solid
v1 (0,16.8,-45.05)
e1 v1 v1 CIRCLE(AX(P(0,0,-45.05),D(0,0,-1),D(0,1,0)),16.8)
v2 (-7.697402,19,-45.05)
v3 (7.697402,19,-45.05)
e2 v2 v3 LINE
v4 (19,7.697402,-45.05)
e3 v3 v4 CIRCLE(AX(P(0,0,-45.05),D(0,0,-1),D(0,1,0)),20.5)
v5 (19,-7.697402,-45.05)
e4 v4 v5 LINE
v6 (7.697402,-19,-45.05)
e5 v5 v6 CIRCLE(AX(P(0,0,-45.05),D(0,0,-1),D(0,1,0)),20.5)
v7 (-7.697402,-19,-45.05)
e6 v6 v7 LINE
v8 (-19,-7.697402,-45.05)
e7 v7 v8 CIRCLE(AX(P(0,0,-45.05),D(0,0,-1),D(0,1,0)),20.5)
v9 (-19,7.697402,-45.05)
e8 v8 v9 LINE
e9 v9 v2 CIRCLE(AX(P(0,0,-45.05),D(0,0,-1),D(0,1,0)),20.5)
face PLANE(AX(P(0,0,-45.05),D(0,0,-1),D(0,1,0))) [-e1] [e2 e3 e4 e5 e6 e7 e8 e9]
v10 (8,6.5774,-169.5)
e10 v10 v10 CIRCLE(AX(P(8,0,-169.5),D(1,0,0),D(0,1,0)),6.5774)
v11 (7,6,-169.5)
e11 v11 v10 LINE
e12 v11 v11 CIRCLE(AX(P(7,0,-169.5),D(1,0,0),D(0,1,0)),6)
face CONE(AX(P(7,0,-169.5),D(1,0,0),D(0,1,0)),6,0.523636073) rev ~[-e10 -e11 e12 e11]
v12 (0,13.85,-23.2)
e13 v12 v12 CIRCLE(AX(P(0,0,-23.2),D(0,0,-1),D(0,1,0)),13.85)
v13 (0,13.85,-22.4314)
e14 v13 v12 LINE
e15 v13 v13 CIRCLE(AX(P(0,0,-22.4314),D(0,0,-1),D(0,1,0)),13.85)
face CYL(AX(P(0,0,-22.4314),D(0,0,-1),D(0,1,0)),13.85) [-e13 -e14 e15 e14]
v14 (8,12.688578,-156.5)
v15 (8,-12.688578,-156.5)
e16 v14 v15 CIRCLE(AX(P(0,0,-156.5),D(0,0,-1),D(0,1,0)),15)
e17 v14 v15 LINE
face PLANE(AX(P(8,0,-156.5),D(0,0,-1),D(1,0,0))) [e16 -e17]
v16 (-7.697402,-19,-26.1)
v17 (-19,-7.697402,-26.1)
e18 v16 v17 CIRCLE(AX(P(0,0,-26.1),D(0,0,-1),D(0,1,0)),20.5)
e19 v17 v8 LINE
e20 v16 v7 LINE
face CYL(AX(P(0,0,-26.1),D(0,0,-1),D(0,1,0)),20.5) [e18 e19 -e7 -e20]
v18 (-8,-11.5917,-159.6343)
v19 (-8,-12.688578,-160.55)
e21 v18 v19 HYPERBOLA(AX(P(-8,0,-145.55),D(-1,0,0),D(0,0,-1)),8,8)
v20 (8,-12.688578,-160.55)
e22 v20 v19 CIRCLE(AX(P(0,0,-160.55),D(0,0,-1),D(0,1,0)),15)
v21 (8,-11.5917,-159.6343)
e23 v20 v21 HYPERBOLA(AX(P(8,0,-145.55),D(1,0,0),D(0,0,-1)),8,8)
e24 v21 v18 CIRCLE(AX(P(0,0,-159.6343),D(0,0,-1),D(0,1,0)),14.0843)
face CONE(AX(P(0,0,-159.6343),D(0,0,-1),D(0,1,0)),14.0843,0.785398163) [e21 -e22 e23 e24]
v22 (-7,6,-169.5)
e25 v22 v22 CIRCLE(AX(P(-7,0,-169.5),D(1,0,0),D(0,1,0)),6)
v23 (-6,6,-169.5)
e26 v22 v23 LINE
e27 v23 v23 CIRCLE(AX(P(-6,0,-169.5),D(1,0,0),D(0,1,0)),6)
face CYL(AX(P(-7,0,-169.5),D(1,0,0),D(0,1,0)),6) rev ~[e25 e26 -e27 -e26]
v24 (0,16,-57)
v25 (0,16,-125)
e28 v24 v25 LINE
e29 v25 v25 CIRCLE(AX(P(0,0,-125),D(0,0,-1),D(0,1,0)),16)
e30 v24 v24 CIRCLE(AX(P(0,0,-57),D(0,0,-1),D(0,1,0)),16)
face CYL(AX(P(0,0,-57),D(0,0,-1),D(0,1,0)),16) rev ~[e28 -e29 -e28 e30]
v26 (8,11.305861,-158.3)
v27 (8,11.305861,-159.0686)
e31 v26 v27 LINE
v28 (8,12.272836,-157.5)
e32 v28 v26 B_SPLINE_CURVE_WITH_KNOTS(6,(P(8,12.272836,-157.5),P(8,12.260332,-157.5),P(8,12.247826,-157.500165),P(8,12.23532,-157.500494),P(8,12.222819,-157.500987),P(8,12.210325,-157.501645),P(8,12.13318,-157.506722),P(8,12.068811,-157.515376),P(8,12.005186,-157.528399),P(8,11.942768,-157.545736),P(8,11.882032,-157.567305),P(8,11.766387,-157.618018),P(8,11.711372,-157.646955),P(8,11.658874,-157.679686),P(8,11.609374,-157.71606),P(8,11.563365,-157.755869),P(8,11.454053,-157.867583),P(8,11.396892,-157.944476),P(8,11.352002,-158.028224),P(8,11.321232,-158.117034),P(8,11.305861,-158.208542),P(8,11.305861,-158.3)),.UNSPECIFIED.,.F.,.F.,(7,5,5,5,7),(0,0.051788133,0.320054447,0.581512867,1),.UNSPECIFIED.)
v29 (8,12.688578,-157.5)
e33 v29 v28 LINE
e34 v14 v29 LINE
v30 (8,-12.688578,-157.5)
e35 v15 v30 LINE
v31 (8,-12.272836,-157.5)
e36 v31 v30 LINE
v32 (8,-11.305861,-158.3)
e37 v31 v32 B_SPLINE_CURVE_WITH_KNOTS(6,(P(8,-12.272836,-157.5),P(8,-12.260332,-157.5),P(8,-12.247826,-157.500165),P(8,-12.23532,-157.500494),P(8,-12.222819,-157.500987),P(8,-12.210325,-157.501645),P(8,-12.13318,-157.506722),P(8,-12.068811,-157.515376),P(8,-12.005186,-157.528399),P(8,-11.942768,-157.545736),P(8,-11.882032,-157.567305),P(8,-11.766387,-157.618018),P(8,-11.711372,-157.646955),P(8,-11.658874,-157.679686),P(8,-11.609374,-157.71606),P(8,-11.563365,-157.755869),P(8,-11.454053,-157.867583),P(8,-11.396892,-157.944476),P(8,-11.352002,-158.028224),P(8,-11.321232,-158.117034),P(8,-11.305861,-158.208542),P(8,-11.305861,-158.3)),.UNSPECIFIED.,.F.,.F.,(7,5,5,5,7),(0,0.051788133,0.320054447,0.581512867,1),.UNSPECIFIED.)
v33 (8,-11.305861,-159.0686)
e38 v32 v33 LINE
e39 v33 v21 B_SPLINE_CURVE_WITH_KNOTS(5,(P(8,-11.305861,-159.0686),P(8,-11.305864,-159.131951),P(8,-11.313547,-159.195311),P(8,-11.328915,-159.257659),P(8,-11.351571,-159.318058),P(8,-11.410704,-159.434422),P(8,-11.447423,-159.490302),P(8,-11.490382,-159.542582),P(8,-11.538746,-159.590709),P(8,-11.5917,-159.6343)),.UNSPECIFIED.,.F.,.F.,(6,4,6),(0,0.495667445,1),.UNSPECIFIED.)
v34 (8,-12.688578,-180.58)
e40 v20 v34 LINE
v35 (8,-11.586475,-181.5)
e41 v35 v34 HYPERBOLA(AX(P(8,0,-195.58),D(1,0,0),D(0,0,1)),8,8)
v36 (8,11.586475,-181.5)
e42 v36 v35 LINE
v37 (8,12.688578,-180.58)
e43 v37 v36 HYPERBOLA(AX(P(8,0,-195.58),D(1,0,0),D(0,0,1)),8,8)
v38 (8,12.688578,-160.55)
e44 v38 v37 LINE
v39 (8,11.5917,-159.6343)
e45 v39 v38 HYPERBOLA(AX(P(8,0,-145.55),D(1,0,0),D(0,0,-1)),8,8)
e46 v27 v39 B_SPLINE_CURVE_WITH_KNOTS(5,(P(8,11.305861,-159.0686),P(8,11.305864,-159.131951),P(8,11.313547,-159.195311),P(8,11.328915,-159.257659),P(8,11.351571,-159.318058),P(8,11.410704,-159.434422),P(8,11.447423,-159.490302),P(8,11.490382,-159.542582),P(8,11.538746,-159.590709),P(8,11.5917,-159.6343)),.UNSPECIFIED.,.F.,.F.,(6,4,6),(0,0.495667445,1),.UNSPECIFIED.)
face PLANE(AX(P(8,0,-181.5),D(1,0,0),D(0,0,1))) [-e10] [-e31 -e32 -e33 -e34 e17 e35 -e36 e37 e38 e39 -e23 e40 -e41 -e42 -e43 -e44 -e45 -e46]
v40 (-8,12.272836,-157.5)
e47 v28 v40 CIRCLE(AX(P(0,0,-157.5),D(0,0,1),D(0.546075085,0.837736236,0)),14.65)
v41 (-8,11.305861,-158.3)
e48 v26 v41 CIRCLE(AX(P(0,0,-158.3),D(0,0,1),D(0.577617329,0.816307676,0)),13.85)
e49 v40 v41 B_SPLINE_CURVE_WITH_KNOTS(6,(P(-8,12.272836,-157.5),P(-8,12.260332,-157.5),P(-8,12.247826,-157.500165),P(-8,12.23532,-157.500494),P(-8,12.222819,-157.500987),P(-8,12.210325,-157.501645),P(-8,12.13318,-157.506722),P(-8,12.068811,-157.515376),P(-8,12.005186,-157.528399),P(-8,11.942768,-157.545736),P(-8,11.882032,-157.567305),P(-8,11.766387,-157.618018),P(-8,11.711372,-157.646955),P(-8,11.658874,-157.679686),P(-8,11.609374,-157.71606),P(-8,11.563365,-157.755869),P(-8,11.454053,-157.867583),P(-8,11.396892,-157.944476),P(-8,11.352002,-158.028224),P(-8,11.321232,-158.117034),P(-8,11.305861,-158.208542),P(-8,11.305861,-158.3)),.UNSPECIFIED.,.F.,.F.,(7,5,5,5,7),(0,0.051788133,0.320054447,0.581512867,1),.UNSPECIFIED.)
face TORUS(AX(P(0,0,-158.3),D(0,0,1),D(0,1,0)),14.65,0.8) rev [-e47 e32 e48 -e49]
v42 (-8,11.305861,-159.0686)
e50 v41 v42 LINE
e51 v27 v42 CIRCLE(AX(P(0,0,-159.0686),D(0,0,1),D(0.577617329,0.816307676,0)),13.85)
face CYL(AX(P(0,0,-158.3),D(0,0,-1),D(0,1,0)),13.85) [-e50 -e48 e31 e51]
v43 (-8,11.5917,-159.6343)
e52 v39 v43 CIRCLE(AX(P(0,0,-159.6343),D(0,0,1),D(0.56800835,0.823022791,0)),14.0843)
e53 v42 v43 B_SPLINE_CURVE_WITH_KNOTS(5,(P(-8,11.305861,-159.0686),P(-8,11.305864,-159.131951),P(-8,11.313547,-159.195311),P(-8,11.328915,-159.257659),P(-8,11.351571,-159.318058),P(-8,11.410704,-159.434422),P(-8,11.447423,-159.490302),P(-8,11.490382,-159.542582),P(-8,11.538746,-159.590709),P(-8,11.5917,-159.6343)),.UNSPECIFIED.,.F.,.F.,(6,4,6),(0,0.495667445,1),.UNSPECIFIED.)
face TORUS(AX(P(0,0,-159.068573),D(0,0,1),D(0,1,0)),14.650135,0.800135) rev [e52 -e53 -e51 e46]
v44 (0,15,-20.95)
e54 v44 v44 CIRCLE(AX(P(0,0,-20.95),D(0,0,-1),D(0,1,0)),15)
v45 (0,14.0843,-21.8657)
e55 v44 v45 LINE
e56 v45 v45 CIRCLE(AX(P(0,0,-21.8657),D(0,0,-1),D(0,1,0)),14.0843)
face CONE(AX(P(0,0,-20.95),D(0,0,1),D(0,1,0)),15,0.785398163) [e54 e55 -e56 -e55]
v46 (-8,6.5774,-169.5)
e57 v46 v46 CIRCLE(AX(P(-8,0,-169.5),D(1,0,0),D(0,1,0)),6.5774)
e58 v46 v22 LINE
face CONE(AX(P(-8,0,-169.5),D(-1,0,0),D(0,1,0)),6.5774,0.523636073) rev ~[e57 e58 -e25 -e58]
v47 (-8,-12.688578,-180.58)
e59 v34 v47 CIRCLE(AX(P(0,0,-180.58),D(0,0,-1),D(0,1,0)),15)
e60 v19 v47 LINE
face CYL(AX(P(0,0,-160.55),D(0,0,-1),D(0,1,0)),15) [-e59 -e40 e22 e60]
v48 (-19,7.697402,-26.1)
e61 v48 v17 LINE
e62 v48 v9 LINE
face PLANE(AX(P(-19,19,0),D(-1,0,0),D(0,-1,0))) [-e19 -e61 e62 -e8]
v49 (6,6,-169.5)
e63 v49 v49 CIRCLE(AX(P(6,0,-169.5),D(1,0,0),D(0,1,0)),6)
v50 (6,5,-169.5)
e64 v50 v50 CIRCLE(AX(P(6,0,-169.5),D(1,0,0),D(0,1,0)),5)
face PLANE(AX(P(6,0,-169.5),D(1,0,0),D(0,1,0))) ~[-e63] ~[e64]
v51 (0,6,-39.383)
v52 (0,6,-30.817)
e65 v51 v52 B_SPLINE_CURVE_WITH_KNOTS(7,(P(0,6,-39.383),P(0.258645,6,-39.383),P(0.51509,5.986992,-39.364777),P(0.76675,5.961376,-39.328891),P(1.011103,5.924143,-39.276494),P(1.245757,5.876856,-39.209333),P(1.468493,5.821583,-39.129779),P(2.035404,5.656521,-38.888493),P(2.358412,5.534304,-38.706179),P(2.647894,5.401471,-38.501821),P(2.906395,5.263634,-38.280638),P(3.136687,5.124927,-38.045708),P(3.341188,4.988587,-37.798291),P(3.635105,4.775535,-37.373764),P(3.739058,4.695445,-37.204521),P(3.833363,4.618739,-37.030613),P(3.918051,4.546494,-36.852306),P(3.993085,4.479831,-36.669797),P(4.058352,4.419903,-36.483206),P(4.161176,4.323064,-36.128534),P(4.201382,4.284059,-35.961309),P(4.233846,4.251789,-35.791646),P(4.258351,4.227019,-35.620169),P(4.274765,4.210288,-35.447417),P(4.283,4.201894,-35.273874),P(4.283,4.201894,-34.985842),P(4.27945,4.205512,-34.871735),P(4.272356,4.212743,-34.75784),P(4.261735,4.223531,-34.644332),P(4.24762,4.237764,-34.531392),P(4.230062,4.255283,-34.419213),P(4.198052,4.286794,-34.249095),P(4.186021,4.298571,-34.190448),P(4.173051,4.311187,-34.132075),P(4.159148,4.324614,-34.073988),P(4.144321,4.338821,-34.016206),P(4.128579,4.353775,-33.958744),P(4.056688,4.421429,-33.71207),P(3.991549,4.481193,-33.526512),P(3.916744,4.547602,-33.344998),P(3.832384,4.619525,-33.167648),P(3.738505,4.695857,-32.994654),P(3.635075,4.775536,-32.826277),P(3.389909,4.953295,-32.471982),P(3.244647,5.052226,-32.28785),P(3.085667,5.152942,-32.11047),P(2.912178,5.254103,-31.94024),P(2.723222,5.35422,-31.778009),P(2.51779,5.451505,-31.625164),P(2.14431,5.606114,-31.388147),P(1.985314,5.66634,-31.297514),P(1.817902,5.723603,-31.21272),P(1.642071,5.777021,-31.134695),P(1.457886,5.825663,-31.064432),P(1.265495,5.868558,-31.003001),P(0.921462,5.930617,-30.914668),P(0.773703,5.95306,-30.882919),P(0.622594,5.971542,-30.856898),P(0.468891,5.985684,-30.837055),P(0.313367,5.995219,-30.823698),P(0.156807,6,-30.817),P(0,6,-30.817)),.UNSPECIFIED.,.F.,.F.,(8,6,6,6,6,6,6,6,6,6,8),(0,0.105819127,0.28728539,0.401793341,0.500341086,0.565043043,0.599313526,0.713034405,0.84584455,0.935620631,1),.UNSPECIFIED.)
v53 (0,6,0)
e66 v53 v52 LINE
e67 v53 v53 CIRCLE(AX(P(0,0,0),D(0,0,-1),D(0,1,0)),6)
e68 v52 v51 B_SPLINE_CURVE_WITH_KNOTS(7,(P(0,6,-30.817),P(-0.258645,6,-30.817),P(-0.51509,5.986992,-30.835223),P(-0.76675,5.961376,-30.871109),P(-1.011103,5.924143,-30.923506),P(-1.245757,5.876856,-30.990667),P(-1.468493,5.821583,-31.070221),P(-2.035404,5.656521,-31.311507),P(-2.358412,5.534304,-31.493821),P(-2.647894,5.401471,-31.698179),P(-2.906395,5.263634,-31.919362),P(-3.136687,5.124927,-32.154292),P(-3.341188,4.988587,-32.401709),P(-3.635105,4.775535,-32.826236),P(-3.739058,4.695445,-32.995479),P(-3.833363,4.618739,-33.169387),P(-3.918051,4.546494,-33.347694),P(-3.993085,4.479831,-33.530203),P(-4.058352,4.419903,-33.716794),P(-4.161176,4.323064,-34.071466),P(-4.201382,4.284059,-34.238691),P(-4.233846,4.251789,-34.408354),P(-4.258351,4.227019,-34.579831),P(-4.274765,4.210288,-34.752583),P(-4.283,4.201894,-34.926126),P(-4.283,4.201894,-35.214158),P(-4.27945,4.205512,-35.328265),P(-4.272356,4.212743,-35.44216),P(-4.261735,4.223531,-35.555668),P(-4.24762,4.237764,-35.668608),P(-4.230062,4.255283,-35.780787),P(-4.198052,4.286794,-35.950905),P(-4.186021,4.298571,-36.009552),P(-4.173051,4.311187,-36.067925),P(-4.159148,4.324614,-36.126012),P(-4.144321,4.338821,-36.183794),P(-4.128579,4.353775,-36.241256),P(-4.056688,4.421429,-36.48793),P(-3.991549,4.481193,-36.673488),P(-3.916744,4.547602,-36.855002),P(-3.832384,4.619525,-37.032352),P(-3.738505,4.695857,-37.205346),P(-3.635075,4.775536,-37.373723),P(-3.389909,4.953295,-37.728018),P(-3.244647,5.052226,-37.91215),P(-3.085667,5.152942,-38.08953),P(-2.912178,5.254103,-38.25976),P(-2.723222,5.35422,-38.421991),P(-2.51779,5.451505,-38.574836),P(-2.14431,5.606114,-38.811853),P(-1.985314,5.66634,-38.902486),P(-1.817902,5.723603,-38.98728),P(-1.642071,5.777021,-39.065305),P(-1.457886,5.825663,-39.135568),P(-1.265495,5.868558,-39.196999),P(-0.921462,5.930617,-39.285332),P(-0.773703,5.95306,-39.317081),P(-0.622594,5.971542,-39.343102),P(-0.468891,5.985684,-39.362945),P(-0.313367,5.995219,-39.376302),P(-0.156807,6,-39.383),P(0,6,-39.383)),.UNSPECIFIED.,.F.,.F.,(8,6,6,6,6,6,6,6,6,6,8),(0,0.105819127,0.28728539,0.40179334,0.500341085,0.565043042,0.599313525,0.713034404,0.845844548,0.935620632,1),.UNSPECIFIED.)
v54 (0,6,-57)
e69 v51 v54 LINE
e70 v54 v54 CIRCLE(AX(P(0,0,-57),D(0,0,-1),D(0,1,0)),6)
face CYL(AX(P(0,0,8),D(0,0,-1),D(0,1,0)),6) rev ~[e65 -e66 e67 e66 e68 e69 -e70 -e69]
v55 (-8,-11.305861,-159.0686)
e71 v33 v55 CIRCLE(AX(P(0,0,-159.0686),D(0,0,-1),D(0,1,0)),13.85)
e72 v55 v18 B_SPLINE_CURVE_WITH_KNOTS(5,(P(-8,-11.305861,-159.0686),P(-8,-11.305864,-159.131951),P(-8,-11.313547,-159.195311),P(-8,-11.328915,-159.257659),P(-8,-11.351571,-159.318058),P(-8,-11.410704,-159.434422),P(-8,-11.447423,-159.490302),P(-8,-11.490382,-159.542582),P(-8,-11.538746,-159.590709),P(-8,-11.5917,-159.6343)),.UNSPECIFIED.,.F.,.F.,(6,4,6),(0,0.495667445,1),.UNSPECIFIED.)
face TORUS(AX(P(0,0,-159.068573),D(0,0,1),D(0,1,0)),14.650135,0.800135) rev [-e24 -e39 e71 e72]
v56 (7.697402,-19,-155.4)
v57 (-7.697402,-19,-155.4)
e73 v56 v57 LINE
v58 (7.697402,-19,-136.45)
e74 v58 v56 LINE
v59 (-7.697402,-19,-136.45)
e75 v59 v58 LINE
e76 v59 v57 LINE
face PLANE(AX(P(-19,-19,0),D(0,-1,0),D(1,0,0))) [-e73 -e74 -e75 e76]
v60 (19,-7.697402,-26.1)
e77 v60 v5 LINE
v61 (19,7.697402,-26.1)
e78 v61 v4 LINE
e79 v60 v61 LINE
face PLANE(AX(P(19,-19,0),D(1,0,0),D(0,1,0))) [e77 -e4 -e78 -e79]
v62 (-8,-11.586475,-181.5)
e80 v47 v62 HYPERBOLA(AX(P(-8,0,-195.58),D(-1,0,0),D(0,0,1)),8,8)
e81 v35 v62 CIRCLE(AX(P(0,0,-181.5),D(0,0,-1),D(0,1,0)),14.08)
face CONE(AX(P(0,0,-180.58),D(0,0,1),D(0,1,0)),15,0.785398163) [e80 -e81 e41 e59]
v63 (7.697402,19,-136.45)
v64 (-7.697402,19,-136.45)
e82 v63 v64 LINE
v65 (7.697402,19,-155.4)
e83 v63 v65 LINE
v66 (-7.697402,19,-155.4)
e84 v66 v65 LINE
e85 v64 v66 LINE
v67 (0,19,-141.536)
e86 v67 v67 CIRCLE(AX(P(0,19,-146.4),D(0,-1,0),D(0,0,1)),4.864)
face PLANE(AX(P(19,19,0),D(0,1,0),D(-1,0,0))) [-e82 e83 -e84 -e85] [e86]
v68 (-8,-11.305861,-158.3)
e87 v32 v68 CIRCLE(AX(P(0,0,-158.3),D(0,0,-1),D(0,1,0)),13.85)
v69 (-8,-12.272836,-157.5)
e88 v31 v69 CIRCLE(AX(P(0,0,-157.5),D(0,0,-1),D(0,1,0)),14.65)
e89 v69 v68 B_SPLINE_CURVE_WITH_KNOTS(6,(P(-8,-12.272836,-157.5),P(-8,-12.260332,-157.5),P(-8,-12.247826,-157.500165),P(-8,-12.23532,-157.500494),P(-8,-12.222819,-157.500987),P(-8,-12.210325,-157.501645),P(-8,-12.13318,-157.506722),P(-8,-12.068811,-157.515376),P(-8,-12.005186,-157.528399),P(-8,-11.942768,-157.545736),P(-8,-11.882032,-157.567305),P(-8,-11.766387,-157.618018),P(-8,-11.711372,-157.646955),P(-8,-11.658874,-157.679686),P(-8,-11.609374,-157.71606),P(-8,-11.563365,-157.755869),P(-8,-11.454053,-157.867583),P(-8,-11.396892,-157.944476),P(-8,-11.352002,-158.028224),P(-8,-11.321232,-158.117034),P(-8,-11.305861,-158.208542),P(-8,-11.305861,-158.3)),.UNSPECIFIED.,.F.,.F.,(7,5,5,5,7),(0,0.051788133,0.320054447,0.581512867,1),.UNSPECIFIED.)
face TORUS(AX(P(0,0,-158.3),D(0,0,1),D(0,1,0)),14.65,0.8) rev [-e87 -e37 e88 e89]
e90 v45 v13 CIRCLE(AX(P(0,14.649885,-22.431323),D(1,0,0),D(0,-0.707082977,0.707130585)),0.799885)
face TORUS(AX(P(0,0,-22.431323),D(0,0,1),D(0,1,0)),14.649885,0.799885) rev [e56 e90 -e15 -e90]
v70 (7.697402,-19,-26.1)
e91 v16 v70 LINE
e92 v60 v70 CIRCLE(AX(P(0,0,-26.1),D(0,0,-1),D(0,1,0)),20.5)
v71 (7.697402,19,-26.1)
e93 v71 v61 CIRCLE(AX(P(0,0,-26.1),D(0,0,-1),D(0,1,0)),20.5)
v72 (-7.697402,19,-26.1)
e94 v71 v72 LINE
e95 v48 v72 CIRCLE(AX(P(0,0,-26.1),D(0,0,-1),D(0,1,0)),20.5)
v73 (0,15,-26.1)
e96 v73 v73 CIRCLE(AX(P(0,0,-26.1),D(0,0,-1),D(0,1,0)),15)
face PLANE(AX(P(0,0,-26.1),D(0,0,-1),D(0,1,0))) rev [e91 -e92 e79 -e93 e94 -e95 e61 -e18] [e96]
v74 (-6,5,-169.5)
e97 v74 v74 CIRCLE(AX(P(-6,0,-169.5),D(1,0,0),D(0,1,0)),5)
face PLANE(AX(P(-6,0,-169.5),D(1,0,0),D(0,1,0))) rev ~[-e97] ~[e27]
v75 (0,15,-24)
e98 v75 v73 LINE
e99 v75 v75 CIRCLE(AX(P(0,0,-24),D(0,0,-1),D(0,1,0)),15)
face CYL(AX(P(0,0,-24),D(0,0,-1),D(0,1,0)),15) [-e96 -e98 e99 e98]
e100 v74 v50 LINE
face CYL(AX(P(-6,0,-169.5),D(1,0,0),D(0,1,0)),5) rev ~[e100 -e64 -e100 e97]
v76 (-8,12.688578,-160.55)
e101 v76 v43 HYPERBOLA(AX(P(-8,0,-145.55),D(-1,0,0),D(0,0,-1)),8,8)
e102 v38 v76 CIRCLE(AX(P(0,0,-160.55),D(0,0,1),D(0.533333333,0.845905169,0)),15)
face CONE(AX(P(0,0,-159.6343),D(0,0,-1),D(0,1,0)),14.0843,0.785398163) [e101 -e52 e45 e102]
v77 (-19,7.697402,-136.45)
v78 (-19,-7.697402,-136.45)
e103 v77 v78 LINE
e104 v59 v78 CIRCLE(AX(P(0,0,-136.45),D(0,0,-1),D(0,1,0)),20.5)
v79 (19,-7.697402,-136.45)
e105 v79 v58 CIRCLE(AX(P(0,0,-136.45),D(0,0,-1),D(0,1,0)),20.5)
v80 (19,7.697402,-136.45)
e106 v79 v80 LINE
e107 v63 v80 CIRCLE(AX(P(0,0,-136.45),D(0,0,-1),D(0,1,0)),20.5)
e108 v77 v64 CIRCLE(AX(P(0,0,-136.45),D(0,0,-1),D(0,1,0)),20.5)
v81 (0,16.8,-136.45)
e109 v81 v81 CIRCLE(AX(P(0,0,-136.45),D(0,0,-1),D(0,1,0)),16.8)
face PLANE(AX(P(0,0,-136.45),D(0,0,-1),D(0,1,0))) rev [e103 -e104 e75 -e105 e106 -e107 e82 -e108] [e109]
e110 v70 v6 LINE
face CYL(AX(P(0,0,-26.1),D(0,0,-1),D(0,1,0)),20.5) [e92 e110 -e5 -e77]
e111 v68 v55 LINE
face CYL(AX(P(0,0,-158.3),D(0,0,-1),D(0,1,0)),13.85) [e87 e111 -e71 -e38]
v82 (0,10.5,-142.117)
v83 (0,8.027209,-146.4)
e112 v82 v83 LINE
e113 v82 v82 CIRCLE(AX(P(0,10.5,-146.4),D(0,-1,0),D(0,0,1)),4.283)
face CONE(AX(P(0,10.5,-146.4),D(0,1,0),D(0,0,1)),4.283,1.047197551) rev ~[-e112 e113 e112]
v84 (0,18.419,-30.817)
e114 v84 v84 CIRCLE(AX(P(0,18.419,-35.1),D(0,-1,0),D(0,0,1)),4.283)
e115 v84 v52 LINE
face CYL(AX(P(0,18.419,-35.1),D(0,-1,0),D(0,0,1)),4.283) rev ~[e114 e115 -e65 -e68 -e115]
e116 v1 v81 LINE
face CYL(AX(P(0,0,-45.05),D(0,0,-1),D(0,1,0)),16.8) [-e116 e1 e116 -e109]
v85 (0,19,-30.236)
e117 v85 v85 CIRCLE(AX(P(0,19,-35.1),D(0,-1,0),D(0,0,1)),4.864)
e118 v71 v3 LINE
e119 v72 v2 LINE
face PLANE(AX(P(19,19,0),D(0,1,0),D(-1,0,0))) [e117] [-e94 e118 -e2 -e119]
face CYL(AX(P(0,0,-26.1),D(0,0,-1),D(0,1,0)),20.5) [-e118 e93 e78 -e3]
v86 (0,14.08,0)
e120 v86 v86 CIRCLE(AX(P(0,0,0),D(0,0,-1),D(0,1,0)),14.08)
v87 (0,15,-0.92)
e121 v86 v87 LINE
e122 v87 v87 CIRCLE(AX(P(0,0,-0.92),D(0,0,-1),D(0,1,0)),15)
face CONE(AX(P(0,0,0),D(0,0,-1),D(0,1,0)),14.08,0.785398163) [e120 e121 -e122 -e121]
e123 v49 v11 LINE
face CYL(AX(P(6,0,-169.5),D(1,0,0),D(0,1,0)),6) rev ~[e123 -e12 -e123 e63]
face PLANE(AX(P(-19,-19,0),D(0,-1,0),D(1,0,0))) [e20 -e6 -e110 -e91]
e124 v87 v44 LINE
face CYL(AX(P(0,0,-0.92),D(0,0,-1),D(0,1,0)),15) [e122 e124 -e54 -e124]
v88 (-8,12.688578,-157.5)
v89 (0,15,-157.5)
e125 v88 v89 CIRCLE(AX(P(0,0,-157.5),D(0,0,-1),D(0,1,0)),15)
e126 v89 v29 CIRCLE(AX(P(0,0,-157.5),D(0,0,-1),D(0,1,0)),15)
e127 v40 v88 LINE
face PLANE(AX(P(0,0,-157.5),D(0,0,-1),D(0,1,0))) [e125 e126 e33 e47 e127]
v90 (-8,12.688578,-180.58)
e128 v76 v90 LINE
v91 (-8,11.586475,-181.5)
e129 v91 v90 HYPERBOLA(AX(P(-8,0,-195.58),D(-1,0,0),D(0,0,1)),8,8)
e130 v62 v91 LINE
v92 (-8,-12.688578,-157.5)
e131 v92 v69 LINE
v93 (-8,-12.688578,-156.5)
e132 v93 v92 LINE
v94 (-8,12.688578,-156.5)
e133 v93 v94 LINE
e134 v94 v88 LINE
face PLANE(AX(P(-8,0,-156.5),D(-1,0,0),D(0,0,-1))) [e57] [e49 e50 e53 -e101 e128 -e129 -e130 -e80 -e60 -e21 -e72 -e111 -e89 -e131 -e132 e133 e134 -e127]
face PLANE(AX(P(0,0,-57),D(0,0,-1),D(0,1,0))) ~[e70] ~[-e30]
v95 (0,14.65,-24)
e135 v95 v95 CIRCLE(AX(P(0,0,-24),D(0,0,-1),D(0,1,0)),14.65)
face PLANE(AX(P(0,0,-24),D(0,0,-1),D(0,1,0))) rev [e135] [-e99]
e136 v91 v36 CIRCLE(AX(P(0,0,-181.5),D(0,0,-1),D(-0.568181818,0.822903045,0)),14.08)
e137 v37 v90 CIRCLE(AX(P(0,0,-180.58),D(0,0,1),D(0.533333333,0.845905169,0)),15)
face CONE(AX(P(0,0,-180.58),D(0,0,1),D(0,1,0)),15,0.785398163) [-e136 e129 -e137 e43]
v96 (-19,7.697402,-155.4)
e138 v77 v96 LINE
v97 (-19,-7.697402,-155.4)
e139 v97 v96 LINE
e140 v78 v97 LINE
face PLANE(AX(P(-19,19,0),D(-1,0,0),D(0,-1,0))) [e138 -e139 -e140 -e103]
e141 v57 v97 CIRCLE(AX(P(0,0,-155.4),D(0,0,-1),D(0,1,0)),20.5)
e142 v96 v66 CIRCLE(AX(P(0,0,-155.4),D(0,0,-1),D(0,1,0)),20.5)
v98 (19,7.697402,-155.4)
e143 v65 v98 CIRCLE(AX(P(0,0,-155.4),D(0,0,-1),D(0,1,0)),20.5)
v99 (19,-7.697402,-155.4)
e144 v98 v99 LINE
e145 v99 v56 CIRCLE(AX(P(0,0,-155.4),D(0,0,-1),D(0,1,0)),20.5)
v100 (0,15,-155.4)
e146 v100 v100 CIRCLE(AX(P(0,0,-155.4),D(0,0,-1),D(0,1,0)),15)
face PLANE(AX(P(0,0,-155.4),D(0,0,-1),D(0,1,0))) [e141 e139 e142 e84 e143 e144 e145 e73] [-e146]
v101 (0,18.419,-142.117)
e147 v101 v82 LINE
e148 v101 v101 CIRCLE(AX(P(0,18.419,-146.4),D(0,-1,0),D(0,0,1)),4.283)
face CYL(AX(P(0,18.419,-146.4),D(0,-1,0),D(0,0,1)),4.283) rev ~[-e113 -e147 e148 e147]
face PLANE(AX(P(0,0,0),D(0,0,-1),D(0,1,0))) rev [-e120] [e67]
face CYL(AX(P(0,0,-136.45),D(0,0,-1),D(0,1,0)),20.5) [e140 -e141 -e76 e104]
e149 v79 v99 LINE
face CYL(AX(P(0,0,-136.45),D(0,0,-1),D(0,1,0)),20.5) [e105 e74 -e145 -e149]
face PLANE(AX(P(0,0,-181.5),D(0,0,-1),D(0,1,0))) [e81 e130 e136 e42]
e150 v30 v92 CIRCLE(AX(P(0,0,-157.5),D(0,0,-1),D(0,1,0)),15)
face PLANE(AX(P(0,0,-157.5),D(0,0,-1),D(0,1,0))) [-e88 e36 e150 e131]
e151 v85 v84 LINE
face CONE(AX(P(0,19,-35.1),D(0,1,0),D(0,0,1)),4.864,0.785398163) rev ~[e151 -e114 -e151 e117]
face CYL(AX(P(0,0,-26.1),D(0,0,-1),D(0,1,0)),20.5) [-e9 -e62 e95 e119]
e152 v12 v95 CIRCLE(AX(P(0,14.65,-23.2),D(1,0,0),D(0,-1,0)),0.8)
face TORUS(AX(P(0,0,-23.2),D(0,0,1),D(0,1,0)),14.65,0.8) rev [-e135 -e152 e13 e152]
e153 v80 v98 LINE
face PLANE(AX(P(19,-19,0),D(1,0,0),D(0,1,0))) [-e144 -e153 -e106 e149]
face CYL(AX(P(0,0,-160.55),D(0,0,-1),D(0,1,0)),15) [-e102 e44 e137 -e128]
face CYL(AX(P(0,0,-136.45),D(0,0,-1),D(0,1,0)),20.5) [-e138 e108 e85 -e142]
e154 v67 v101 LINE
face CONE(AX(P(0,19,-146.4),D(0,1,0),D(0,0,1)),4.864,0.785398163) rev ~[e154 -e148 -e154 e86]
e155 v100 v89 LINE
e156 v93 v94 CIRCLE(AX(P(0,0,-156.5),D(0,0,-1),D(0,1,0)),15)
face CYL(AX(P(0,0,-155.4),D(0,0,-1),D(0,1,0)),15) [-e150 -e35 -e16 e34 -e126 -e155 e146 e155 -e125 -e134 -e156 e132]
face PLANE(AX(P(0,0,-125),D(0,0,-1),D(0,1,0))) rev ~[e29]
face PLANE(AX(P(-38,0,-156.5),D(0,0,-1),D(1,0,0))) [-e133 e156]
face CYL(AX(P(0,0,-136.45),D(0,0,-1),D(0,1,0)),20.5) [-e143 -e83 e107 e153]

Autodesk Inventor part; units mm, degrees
sketch "Sketch_12" plane through (0, 0, 0) normal (1, 0, 0) x (0, 1, 0)
  line L0 (0, -181.5) -> (0, 0)
  line L1 (0, 0) -> (14.08, 0)
  line L2 (14.08, 0) -> (15, -0.92)
  line L3 (15, -0.92) -> (15, -20.95)
  line L4 (15, -20.95) -> (14.0843, -21.8657)
  arc A0 (14.0843, -21.8657) -> (13.85, -22.4314) centre (14.65, -22.4314) ccw
  line L5 (13.85, -22.4314) -> (13.85, -23.2)
  arc A1 (13.85, -23.2) -> (14.65, -24) centre (14.65, -23.2) ccw
  line L6 (14.65, -24) -> (15, -24)
  line L7 (15, -24) -> (15, -26.1)
  line L8 (15, -26.1) -> (20.5, -26.1)
  line L9 (20.5, -26.1) -> (20.5, -45.05)
  line L10 (20.5, -45.05) -> (16.8, -45.05)
  line L11 (16.8, -45.05) -> (16.8, -136.45)
  line L12 (16.8, -136.45) -> (20.5, -136.45)
  line L13 (20.5, -136.45) -> (20.5, -155.4)
  line L14 (20.5, -155.4) -> (15, -155.4)
  line L15 (15, -155.4) -> (15, -157.5)
  line L16 (15, -157.5) -> (14.65, -157.5)
  arc A2 (14.65, -157.5) -> (13.85, -158.3) centre (14.65, -158.3) ccw
  line L17 (13.85, -158.3) -> (13.85, -159.0686)
  arc A3 (13.85, -159.0686) -> (14.0843, -159.6343) centre (14.65, -159.0686) ccw
  line L18 (14.0843, -159.6343) -> (15, -160.55)
  line L19 (15, -160.55) -> (15, -180.58)
  line L20 (15, -180.58) -> (14.08, -181.5)
  line L21 (14.08, -181.5) -> (0, -181.5)
  line L22 (0, -181.5) -> (0, 0)
revolve "Revolution1" add sketch "Sketch_12" angle 360 about axis through (0, 0, -181.5) along (0, 0, -1)
thread "Thread1" size "M30x1.5" class "6g" standard "ISO Metric profile" full length
thread "Thread2" size "M30x1.5" class "6g" standard "ISO Metric profile" full length
sketch "Sketch_1" plane through (0, 0, 0) normal (0, 0, 1) x (1, 0, 0)
  line L0 (-38, 38) -> (-38, -38)
  line L1 (-38, -38) -> (38, -38)
  line L2 (38, -38) -> (38, 38)
  line L3 (38, 38) -> (-38, 38)
  line L4 (-19, 19) -> (-19, -19)
  line L5 (-19, -19) -> (19, -19)
  line L6 (19, -19) -> (19, 19)
  line L7 (19, 19) -> (-19, 19)
extrude "Extrusion1" cut sketch "Sketch_1" against normal blind 189.5
sketch "Sketch_124" plane through (0, 0, 0) normal (0, 1, 0) x (-1, 0, 0)
  line L0 (38, -156.5) -> (8, -156.5)
  line L1 (8, -156.5) -> (8, -181.5)
  line L2 (8, -181.5) -> (-8, -181.5)
  line L3 (-8, -181.5) -> (-8, -156.5)
  line L4 (-8, -156.5) -> (-38, -156.5)
  line L5 (-38, -156.5) -> (-38, -186.5)
  line L6 (-38, -186.5) -> (38, -186.5)
  line L7 (38, -186.5) -> (38, -156.5)
extrude "Extrusion2" cut sketch "Sketch_124" along normal mid plane 38
sketch "Sketch_3" plane through (0, 0, -169.5) normal (0, 0, 1) x (1, 0, 0)
  line L0 (8, 0) -> (-8, 0)
  line L1 (-8, 0) -> (-8, 6.5774)
  line L2 (-8, 6.5774) -> (-7, 6)
  line L3 (-7, 6) -> (-6, 6)
  line L4 (-6, 6) -> (-6, 5)
  line L5 (-6, 5) -> (6, 5)
  line L6 (6, 5) -> (6, 6)
  line L7 (6, 6) -> (7, 6)
  line L8 (7, 6) -> (8, 6.5774)
  line L9 (8, 6.5774) -> (8, 0)
  line L10 (8, 0) -> (-8, 0)
revolve "Revolution2" cut sketch "Sketch_3" angle 360 about axis through (8, 0, -169.5) along (1, 0, 0)
sketch "Sketch5" plane through (-7.6974, 19, -26.1) normal (0, 1, 0) x (1, 0, 0)
  point P0 (7.6974, 9)
hole "Hole1" at (0, 19, -35.1) direction (0, -1, 0) diameter 8.566 depth 19 countersink diameter 9.728 countersink angle 90 thread size "G9.728x0.907" designation "G 1/8" standard "ISO Pipe Threads"
sketch "Sketch6" plane through (-7.6974, 19, -136.45) normal (0, 1, 0) x (1, 0, 0)
  point P0 (7.6974, 9.95)
hole "Hole2" at (0, 19, -146.4) direction (0, -1, 0) diameter 8.566 depth 8.5 tip angle 120 countersink diameter 9.728 countersink angle 90 thread size "G9.728x0.907" designation "G 1/8" standard "ISO Pipe Threads"
sketch "Sketch_129" plane through (0, 0, 0) normal (1, 0, 0) x (0, 1, 0)
  line L0 (0, -125) -> (0, 8)
  line L1 (0, 8) -> (6, 8)
  line L2 (6, 8) -> (6, -57)
  line L3 (6, -57) -> (16, -57)
  line L4 (16, -57) -> (16, -125)
  line L5 (16, -125) -> (0, -125)
  line L6 (0, -125) -> (0, 8)
revolve "Revolution3" cut sketch "Sketch_129" angle 360 about axis through (0, 0, -125) along (0, 0, -1)
ref_plane "FDT_FRONT_XY" through (0, 0, -26.1) normal (0, 0, -1) x (1, 0, 0)
ref_plane "FDT_FRONT_YZ" through (0, 0, -26.1) normal (1, 0, 0) x (0, -1, 0)
ref_plane "FDT_FRONT_ZX" through (0, 0, -26.1) normal (0, -1, 0) x (0, 0, -1)
ref_plane "FDT_QSFRONT_XY" through (0, 19, -35.1) normal (0, 1, 0) x (0, 0, 1)
ref_plane "FDT_QSFRONT_YZ" through (0, 19, -35.1) normal (0, 0, 1) x (1, 0, 0)
ref_plane "FDT_QSFRONT_ZX" through (0, 19, -35.1) normal (1, 0, 0) x (0, 1, 0)
ref_plane "FDT_QSREAR_XY" through (0, 19, -146.4) normal (0, 1, 0) x (0, 0, 1)
ref_plane "FDT_QSREAR_YZ" through (0, 19, -146.4) normal (0, 0, 1) x (1, 0, 0)
ref_plane "FDT_QSREAR_ZX" through (0, 19, -146.4) normal (1, 0, 0) x (0, 1, 0)
ref_plane "FDT_REAR_XY" through (0, 0, -155.4) normal (0, 0, 1) x (1, 0, 0)
ref_plane "FDT_REAR_YZ" through (0, 0, -155.4) normal (1, 0, 0) x (0, 1, 0)
ref_plane "FDT_REAR_ZX" through (0, 0, -155.4) normal (0, 1, 0) x (0, 0, 1)
ref_plane "FDT_SMBR1_XY" through (0, 0, -54.5) normal (0, 0, 1) x (-1, 0, 0)
ref_plane "FDT_SMBR1_YZ" through (0, 0, -54.5) normal (-1, 0, 0) x (0, -1, 0)
ref_plane "FDT_SMBR1_ZX" through (0, 0, -54.5) normal (0, -1, 0) x (0, 0, 1)
ref_plane "FDT_SMBR2_XY" through (0, 0, -127) normal (0, 0, 1) x (-1, 0, 0)
ref_plane "FDT_SMBR2_YZ" through (0, 0, -127) normal (-1, 0, 0) x (0, -1, 0)
ref_plane "FDT_SMBR2_ZX" through (0, 0, -127) normal (0, -1, 0) x (0, 0, 1)
ref_plane "FDT_SWIVELAXIS_XY" through (0, 0, -169.5) normal (1, 0, 0) x (0, 0, -1)
ref_plane "FDT_SWIVELAXIS_YZ" through (0, 0, -169.5) normal (0, 0, -1) x (0, 1, 0)
ref_plane "FDT_SWIVELAXIS_ZX" through (0, 0, -169.5) normal (0, 1, 0) x (1, 0, 0)
ref_plane "NUT_XY" through (0, 0, -8.5) normal (0, 0, -1) x (1, 0, 0)
ref_plane "NUT_YZ" through (0, 0, -8.5) normal (1, 0, 0) x (0, -1, 0)
ref_plane "NUT_ZX" through (0, 0, -8.5) normal (0, -1, 0) x (0, 0, -1)
ref_plane "ZR_XY" through (0, 0, 0) normal (0, 0, -1) x (-1, 0, 0)
ref_plane "ZR_YZ" through (0, 0, 0) normal (-1, 0, 0) x (0, 1, 0)
ref_plane "ZR_ZX" through (0, 0, 0) normal (0, 1, 0) x (0, 0, -1)
ref_plane "ZYL_XY" through (0, 0, -26.1) normal (0, 0, -1) x (1, 0, 0)
ref_plane "ZYL_YZ" through (0, 0, -26.1) normal (1, 0, 0) x (0, -1, 0)
ref_plane "ZYL_ZX" through (0, 0, -26.1) normal (0, -1, 0) x (0, 0, -1)
properties part number "193992 DSNU-32-60-PPS---(A----0-ZR)"
